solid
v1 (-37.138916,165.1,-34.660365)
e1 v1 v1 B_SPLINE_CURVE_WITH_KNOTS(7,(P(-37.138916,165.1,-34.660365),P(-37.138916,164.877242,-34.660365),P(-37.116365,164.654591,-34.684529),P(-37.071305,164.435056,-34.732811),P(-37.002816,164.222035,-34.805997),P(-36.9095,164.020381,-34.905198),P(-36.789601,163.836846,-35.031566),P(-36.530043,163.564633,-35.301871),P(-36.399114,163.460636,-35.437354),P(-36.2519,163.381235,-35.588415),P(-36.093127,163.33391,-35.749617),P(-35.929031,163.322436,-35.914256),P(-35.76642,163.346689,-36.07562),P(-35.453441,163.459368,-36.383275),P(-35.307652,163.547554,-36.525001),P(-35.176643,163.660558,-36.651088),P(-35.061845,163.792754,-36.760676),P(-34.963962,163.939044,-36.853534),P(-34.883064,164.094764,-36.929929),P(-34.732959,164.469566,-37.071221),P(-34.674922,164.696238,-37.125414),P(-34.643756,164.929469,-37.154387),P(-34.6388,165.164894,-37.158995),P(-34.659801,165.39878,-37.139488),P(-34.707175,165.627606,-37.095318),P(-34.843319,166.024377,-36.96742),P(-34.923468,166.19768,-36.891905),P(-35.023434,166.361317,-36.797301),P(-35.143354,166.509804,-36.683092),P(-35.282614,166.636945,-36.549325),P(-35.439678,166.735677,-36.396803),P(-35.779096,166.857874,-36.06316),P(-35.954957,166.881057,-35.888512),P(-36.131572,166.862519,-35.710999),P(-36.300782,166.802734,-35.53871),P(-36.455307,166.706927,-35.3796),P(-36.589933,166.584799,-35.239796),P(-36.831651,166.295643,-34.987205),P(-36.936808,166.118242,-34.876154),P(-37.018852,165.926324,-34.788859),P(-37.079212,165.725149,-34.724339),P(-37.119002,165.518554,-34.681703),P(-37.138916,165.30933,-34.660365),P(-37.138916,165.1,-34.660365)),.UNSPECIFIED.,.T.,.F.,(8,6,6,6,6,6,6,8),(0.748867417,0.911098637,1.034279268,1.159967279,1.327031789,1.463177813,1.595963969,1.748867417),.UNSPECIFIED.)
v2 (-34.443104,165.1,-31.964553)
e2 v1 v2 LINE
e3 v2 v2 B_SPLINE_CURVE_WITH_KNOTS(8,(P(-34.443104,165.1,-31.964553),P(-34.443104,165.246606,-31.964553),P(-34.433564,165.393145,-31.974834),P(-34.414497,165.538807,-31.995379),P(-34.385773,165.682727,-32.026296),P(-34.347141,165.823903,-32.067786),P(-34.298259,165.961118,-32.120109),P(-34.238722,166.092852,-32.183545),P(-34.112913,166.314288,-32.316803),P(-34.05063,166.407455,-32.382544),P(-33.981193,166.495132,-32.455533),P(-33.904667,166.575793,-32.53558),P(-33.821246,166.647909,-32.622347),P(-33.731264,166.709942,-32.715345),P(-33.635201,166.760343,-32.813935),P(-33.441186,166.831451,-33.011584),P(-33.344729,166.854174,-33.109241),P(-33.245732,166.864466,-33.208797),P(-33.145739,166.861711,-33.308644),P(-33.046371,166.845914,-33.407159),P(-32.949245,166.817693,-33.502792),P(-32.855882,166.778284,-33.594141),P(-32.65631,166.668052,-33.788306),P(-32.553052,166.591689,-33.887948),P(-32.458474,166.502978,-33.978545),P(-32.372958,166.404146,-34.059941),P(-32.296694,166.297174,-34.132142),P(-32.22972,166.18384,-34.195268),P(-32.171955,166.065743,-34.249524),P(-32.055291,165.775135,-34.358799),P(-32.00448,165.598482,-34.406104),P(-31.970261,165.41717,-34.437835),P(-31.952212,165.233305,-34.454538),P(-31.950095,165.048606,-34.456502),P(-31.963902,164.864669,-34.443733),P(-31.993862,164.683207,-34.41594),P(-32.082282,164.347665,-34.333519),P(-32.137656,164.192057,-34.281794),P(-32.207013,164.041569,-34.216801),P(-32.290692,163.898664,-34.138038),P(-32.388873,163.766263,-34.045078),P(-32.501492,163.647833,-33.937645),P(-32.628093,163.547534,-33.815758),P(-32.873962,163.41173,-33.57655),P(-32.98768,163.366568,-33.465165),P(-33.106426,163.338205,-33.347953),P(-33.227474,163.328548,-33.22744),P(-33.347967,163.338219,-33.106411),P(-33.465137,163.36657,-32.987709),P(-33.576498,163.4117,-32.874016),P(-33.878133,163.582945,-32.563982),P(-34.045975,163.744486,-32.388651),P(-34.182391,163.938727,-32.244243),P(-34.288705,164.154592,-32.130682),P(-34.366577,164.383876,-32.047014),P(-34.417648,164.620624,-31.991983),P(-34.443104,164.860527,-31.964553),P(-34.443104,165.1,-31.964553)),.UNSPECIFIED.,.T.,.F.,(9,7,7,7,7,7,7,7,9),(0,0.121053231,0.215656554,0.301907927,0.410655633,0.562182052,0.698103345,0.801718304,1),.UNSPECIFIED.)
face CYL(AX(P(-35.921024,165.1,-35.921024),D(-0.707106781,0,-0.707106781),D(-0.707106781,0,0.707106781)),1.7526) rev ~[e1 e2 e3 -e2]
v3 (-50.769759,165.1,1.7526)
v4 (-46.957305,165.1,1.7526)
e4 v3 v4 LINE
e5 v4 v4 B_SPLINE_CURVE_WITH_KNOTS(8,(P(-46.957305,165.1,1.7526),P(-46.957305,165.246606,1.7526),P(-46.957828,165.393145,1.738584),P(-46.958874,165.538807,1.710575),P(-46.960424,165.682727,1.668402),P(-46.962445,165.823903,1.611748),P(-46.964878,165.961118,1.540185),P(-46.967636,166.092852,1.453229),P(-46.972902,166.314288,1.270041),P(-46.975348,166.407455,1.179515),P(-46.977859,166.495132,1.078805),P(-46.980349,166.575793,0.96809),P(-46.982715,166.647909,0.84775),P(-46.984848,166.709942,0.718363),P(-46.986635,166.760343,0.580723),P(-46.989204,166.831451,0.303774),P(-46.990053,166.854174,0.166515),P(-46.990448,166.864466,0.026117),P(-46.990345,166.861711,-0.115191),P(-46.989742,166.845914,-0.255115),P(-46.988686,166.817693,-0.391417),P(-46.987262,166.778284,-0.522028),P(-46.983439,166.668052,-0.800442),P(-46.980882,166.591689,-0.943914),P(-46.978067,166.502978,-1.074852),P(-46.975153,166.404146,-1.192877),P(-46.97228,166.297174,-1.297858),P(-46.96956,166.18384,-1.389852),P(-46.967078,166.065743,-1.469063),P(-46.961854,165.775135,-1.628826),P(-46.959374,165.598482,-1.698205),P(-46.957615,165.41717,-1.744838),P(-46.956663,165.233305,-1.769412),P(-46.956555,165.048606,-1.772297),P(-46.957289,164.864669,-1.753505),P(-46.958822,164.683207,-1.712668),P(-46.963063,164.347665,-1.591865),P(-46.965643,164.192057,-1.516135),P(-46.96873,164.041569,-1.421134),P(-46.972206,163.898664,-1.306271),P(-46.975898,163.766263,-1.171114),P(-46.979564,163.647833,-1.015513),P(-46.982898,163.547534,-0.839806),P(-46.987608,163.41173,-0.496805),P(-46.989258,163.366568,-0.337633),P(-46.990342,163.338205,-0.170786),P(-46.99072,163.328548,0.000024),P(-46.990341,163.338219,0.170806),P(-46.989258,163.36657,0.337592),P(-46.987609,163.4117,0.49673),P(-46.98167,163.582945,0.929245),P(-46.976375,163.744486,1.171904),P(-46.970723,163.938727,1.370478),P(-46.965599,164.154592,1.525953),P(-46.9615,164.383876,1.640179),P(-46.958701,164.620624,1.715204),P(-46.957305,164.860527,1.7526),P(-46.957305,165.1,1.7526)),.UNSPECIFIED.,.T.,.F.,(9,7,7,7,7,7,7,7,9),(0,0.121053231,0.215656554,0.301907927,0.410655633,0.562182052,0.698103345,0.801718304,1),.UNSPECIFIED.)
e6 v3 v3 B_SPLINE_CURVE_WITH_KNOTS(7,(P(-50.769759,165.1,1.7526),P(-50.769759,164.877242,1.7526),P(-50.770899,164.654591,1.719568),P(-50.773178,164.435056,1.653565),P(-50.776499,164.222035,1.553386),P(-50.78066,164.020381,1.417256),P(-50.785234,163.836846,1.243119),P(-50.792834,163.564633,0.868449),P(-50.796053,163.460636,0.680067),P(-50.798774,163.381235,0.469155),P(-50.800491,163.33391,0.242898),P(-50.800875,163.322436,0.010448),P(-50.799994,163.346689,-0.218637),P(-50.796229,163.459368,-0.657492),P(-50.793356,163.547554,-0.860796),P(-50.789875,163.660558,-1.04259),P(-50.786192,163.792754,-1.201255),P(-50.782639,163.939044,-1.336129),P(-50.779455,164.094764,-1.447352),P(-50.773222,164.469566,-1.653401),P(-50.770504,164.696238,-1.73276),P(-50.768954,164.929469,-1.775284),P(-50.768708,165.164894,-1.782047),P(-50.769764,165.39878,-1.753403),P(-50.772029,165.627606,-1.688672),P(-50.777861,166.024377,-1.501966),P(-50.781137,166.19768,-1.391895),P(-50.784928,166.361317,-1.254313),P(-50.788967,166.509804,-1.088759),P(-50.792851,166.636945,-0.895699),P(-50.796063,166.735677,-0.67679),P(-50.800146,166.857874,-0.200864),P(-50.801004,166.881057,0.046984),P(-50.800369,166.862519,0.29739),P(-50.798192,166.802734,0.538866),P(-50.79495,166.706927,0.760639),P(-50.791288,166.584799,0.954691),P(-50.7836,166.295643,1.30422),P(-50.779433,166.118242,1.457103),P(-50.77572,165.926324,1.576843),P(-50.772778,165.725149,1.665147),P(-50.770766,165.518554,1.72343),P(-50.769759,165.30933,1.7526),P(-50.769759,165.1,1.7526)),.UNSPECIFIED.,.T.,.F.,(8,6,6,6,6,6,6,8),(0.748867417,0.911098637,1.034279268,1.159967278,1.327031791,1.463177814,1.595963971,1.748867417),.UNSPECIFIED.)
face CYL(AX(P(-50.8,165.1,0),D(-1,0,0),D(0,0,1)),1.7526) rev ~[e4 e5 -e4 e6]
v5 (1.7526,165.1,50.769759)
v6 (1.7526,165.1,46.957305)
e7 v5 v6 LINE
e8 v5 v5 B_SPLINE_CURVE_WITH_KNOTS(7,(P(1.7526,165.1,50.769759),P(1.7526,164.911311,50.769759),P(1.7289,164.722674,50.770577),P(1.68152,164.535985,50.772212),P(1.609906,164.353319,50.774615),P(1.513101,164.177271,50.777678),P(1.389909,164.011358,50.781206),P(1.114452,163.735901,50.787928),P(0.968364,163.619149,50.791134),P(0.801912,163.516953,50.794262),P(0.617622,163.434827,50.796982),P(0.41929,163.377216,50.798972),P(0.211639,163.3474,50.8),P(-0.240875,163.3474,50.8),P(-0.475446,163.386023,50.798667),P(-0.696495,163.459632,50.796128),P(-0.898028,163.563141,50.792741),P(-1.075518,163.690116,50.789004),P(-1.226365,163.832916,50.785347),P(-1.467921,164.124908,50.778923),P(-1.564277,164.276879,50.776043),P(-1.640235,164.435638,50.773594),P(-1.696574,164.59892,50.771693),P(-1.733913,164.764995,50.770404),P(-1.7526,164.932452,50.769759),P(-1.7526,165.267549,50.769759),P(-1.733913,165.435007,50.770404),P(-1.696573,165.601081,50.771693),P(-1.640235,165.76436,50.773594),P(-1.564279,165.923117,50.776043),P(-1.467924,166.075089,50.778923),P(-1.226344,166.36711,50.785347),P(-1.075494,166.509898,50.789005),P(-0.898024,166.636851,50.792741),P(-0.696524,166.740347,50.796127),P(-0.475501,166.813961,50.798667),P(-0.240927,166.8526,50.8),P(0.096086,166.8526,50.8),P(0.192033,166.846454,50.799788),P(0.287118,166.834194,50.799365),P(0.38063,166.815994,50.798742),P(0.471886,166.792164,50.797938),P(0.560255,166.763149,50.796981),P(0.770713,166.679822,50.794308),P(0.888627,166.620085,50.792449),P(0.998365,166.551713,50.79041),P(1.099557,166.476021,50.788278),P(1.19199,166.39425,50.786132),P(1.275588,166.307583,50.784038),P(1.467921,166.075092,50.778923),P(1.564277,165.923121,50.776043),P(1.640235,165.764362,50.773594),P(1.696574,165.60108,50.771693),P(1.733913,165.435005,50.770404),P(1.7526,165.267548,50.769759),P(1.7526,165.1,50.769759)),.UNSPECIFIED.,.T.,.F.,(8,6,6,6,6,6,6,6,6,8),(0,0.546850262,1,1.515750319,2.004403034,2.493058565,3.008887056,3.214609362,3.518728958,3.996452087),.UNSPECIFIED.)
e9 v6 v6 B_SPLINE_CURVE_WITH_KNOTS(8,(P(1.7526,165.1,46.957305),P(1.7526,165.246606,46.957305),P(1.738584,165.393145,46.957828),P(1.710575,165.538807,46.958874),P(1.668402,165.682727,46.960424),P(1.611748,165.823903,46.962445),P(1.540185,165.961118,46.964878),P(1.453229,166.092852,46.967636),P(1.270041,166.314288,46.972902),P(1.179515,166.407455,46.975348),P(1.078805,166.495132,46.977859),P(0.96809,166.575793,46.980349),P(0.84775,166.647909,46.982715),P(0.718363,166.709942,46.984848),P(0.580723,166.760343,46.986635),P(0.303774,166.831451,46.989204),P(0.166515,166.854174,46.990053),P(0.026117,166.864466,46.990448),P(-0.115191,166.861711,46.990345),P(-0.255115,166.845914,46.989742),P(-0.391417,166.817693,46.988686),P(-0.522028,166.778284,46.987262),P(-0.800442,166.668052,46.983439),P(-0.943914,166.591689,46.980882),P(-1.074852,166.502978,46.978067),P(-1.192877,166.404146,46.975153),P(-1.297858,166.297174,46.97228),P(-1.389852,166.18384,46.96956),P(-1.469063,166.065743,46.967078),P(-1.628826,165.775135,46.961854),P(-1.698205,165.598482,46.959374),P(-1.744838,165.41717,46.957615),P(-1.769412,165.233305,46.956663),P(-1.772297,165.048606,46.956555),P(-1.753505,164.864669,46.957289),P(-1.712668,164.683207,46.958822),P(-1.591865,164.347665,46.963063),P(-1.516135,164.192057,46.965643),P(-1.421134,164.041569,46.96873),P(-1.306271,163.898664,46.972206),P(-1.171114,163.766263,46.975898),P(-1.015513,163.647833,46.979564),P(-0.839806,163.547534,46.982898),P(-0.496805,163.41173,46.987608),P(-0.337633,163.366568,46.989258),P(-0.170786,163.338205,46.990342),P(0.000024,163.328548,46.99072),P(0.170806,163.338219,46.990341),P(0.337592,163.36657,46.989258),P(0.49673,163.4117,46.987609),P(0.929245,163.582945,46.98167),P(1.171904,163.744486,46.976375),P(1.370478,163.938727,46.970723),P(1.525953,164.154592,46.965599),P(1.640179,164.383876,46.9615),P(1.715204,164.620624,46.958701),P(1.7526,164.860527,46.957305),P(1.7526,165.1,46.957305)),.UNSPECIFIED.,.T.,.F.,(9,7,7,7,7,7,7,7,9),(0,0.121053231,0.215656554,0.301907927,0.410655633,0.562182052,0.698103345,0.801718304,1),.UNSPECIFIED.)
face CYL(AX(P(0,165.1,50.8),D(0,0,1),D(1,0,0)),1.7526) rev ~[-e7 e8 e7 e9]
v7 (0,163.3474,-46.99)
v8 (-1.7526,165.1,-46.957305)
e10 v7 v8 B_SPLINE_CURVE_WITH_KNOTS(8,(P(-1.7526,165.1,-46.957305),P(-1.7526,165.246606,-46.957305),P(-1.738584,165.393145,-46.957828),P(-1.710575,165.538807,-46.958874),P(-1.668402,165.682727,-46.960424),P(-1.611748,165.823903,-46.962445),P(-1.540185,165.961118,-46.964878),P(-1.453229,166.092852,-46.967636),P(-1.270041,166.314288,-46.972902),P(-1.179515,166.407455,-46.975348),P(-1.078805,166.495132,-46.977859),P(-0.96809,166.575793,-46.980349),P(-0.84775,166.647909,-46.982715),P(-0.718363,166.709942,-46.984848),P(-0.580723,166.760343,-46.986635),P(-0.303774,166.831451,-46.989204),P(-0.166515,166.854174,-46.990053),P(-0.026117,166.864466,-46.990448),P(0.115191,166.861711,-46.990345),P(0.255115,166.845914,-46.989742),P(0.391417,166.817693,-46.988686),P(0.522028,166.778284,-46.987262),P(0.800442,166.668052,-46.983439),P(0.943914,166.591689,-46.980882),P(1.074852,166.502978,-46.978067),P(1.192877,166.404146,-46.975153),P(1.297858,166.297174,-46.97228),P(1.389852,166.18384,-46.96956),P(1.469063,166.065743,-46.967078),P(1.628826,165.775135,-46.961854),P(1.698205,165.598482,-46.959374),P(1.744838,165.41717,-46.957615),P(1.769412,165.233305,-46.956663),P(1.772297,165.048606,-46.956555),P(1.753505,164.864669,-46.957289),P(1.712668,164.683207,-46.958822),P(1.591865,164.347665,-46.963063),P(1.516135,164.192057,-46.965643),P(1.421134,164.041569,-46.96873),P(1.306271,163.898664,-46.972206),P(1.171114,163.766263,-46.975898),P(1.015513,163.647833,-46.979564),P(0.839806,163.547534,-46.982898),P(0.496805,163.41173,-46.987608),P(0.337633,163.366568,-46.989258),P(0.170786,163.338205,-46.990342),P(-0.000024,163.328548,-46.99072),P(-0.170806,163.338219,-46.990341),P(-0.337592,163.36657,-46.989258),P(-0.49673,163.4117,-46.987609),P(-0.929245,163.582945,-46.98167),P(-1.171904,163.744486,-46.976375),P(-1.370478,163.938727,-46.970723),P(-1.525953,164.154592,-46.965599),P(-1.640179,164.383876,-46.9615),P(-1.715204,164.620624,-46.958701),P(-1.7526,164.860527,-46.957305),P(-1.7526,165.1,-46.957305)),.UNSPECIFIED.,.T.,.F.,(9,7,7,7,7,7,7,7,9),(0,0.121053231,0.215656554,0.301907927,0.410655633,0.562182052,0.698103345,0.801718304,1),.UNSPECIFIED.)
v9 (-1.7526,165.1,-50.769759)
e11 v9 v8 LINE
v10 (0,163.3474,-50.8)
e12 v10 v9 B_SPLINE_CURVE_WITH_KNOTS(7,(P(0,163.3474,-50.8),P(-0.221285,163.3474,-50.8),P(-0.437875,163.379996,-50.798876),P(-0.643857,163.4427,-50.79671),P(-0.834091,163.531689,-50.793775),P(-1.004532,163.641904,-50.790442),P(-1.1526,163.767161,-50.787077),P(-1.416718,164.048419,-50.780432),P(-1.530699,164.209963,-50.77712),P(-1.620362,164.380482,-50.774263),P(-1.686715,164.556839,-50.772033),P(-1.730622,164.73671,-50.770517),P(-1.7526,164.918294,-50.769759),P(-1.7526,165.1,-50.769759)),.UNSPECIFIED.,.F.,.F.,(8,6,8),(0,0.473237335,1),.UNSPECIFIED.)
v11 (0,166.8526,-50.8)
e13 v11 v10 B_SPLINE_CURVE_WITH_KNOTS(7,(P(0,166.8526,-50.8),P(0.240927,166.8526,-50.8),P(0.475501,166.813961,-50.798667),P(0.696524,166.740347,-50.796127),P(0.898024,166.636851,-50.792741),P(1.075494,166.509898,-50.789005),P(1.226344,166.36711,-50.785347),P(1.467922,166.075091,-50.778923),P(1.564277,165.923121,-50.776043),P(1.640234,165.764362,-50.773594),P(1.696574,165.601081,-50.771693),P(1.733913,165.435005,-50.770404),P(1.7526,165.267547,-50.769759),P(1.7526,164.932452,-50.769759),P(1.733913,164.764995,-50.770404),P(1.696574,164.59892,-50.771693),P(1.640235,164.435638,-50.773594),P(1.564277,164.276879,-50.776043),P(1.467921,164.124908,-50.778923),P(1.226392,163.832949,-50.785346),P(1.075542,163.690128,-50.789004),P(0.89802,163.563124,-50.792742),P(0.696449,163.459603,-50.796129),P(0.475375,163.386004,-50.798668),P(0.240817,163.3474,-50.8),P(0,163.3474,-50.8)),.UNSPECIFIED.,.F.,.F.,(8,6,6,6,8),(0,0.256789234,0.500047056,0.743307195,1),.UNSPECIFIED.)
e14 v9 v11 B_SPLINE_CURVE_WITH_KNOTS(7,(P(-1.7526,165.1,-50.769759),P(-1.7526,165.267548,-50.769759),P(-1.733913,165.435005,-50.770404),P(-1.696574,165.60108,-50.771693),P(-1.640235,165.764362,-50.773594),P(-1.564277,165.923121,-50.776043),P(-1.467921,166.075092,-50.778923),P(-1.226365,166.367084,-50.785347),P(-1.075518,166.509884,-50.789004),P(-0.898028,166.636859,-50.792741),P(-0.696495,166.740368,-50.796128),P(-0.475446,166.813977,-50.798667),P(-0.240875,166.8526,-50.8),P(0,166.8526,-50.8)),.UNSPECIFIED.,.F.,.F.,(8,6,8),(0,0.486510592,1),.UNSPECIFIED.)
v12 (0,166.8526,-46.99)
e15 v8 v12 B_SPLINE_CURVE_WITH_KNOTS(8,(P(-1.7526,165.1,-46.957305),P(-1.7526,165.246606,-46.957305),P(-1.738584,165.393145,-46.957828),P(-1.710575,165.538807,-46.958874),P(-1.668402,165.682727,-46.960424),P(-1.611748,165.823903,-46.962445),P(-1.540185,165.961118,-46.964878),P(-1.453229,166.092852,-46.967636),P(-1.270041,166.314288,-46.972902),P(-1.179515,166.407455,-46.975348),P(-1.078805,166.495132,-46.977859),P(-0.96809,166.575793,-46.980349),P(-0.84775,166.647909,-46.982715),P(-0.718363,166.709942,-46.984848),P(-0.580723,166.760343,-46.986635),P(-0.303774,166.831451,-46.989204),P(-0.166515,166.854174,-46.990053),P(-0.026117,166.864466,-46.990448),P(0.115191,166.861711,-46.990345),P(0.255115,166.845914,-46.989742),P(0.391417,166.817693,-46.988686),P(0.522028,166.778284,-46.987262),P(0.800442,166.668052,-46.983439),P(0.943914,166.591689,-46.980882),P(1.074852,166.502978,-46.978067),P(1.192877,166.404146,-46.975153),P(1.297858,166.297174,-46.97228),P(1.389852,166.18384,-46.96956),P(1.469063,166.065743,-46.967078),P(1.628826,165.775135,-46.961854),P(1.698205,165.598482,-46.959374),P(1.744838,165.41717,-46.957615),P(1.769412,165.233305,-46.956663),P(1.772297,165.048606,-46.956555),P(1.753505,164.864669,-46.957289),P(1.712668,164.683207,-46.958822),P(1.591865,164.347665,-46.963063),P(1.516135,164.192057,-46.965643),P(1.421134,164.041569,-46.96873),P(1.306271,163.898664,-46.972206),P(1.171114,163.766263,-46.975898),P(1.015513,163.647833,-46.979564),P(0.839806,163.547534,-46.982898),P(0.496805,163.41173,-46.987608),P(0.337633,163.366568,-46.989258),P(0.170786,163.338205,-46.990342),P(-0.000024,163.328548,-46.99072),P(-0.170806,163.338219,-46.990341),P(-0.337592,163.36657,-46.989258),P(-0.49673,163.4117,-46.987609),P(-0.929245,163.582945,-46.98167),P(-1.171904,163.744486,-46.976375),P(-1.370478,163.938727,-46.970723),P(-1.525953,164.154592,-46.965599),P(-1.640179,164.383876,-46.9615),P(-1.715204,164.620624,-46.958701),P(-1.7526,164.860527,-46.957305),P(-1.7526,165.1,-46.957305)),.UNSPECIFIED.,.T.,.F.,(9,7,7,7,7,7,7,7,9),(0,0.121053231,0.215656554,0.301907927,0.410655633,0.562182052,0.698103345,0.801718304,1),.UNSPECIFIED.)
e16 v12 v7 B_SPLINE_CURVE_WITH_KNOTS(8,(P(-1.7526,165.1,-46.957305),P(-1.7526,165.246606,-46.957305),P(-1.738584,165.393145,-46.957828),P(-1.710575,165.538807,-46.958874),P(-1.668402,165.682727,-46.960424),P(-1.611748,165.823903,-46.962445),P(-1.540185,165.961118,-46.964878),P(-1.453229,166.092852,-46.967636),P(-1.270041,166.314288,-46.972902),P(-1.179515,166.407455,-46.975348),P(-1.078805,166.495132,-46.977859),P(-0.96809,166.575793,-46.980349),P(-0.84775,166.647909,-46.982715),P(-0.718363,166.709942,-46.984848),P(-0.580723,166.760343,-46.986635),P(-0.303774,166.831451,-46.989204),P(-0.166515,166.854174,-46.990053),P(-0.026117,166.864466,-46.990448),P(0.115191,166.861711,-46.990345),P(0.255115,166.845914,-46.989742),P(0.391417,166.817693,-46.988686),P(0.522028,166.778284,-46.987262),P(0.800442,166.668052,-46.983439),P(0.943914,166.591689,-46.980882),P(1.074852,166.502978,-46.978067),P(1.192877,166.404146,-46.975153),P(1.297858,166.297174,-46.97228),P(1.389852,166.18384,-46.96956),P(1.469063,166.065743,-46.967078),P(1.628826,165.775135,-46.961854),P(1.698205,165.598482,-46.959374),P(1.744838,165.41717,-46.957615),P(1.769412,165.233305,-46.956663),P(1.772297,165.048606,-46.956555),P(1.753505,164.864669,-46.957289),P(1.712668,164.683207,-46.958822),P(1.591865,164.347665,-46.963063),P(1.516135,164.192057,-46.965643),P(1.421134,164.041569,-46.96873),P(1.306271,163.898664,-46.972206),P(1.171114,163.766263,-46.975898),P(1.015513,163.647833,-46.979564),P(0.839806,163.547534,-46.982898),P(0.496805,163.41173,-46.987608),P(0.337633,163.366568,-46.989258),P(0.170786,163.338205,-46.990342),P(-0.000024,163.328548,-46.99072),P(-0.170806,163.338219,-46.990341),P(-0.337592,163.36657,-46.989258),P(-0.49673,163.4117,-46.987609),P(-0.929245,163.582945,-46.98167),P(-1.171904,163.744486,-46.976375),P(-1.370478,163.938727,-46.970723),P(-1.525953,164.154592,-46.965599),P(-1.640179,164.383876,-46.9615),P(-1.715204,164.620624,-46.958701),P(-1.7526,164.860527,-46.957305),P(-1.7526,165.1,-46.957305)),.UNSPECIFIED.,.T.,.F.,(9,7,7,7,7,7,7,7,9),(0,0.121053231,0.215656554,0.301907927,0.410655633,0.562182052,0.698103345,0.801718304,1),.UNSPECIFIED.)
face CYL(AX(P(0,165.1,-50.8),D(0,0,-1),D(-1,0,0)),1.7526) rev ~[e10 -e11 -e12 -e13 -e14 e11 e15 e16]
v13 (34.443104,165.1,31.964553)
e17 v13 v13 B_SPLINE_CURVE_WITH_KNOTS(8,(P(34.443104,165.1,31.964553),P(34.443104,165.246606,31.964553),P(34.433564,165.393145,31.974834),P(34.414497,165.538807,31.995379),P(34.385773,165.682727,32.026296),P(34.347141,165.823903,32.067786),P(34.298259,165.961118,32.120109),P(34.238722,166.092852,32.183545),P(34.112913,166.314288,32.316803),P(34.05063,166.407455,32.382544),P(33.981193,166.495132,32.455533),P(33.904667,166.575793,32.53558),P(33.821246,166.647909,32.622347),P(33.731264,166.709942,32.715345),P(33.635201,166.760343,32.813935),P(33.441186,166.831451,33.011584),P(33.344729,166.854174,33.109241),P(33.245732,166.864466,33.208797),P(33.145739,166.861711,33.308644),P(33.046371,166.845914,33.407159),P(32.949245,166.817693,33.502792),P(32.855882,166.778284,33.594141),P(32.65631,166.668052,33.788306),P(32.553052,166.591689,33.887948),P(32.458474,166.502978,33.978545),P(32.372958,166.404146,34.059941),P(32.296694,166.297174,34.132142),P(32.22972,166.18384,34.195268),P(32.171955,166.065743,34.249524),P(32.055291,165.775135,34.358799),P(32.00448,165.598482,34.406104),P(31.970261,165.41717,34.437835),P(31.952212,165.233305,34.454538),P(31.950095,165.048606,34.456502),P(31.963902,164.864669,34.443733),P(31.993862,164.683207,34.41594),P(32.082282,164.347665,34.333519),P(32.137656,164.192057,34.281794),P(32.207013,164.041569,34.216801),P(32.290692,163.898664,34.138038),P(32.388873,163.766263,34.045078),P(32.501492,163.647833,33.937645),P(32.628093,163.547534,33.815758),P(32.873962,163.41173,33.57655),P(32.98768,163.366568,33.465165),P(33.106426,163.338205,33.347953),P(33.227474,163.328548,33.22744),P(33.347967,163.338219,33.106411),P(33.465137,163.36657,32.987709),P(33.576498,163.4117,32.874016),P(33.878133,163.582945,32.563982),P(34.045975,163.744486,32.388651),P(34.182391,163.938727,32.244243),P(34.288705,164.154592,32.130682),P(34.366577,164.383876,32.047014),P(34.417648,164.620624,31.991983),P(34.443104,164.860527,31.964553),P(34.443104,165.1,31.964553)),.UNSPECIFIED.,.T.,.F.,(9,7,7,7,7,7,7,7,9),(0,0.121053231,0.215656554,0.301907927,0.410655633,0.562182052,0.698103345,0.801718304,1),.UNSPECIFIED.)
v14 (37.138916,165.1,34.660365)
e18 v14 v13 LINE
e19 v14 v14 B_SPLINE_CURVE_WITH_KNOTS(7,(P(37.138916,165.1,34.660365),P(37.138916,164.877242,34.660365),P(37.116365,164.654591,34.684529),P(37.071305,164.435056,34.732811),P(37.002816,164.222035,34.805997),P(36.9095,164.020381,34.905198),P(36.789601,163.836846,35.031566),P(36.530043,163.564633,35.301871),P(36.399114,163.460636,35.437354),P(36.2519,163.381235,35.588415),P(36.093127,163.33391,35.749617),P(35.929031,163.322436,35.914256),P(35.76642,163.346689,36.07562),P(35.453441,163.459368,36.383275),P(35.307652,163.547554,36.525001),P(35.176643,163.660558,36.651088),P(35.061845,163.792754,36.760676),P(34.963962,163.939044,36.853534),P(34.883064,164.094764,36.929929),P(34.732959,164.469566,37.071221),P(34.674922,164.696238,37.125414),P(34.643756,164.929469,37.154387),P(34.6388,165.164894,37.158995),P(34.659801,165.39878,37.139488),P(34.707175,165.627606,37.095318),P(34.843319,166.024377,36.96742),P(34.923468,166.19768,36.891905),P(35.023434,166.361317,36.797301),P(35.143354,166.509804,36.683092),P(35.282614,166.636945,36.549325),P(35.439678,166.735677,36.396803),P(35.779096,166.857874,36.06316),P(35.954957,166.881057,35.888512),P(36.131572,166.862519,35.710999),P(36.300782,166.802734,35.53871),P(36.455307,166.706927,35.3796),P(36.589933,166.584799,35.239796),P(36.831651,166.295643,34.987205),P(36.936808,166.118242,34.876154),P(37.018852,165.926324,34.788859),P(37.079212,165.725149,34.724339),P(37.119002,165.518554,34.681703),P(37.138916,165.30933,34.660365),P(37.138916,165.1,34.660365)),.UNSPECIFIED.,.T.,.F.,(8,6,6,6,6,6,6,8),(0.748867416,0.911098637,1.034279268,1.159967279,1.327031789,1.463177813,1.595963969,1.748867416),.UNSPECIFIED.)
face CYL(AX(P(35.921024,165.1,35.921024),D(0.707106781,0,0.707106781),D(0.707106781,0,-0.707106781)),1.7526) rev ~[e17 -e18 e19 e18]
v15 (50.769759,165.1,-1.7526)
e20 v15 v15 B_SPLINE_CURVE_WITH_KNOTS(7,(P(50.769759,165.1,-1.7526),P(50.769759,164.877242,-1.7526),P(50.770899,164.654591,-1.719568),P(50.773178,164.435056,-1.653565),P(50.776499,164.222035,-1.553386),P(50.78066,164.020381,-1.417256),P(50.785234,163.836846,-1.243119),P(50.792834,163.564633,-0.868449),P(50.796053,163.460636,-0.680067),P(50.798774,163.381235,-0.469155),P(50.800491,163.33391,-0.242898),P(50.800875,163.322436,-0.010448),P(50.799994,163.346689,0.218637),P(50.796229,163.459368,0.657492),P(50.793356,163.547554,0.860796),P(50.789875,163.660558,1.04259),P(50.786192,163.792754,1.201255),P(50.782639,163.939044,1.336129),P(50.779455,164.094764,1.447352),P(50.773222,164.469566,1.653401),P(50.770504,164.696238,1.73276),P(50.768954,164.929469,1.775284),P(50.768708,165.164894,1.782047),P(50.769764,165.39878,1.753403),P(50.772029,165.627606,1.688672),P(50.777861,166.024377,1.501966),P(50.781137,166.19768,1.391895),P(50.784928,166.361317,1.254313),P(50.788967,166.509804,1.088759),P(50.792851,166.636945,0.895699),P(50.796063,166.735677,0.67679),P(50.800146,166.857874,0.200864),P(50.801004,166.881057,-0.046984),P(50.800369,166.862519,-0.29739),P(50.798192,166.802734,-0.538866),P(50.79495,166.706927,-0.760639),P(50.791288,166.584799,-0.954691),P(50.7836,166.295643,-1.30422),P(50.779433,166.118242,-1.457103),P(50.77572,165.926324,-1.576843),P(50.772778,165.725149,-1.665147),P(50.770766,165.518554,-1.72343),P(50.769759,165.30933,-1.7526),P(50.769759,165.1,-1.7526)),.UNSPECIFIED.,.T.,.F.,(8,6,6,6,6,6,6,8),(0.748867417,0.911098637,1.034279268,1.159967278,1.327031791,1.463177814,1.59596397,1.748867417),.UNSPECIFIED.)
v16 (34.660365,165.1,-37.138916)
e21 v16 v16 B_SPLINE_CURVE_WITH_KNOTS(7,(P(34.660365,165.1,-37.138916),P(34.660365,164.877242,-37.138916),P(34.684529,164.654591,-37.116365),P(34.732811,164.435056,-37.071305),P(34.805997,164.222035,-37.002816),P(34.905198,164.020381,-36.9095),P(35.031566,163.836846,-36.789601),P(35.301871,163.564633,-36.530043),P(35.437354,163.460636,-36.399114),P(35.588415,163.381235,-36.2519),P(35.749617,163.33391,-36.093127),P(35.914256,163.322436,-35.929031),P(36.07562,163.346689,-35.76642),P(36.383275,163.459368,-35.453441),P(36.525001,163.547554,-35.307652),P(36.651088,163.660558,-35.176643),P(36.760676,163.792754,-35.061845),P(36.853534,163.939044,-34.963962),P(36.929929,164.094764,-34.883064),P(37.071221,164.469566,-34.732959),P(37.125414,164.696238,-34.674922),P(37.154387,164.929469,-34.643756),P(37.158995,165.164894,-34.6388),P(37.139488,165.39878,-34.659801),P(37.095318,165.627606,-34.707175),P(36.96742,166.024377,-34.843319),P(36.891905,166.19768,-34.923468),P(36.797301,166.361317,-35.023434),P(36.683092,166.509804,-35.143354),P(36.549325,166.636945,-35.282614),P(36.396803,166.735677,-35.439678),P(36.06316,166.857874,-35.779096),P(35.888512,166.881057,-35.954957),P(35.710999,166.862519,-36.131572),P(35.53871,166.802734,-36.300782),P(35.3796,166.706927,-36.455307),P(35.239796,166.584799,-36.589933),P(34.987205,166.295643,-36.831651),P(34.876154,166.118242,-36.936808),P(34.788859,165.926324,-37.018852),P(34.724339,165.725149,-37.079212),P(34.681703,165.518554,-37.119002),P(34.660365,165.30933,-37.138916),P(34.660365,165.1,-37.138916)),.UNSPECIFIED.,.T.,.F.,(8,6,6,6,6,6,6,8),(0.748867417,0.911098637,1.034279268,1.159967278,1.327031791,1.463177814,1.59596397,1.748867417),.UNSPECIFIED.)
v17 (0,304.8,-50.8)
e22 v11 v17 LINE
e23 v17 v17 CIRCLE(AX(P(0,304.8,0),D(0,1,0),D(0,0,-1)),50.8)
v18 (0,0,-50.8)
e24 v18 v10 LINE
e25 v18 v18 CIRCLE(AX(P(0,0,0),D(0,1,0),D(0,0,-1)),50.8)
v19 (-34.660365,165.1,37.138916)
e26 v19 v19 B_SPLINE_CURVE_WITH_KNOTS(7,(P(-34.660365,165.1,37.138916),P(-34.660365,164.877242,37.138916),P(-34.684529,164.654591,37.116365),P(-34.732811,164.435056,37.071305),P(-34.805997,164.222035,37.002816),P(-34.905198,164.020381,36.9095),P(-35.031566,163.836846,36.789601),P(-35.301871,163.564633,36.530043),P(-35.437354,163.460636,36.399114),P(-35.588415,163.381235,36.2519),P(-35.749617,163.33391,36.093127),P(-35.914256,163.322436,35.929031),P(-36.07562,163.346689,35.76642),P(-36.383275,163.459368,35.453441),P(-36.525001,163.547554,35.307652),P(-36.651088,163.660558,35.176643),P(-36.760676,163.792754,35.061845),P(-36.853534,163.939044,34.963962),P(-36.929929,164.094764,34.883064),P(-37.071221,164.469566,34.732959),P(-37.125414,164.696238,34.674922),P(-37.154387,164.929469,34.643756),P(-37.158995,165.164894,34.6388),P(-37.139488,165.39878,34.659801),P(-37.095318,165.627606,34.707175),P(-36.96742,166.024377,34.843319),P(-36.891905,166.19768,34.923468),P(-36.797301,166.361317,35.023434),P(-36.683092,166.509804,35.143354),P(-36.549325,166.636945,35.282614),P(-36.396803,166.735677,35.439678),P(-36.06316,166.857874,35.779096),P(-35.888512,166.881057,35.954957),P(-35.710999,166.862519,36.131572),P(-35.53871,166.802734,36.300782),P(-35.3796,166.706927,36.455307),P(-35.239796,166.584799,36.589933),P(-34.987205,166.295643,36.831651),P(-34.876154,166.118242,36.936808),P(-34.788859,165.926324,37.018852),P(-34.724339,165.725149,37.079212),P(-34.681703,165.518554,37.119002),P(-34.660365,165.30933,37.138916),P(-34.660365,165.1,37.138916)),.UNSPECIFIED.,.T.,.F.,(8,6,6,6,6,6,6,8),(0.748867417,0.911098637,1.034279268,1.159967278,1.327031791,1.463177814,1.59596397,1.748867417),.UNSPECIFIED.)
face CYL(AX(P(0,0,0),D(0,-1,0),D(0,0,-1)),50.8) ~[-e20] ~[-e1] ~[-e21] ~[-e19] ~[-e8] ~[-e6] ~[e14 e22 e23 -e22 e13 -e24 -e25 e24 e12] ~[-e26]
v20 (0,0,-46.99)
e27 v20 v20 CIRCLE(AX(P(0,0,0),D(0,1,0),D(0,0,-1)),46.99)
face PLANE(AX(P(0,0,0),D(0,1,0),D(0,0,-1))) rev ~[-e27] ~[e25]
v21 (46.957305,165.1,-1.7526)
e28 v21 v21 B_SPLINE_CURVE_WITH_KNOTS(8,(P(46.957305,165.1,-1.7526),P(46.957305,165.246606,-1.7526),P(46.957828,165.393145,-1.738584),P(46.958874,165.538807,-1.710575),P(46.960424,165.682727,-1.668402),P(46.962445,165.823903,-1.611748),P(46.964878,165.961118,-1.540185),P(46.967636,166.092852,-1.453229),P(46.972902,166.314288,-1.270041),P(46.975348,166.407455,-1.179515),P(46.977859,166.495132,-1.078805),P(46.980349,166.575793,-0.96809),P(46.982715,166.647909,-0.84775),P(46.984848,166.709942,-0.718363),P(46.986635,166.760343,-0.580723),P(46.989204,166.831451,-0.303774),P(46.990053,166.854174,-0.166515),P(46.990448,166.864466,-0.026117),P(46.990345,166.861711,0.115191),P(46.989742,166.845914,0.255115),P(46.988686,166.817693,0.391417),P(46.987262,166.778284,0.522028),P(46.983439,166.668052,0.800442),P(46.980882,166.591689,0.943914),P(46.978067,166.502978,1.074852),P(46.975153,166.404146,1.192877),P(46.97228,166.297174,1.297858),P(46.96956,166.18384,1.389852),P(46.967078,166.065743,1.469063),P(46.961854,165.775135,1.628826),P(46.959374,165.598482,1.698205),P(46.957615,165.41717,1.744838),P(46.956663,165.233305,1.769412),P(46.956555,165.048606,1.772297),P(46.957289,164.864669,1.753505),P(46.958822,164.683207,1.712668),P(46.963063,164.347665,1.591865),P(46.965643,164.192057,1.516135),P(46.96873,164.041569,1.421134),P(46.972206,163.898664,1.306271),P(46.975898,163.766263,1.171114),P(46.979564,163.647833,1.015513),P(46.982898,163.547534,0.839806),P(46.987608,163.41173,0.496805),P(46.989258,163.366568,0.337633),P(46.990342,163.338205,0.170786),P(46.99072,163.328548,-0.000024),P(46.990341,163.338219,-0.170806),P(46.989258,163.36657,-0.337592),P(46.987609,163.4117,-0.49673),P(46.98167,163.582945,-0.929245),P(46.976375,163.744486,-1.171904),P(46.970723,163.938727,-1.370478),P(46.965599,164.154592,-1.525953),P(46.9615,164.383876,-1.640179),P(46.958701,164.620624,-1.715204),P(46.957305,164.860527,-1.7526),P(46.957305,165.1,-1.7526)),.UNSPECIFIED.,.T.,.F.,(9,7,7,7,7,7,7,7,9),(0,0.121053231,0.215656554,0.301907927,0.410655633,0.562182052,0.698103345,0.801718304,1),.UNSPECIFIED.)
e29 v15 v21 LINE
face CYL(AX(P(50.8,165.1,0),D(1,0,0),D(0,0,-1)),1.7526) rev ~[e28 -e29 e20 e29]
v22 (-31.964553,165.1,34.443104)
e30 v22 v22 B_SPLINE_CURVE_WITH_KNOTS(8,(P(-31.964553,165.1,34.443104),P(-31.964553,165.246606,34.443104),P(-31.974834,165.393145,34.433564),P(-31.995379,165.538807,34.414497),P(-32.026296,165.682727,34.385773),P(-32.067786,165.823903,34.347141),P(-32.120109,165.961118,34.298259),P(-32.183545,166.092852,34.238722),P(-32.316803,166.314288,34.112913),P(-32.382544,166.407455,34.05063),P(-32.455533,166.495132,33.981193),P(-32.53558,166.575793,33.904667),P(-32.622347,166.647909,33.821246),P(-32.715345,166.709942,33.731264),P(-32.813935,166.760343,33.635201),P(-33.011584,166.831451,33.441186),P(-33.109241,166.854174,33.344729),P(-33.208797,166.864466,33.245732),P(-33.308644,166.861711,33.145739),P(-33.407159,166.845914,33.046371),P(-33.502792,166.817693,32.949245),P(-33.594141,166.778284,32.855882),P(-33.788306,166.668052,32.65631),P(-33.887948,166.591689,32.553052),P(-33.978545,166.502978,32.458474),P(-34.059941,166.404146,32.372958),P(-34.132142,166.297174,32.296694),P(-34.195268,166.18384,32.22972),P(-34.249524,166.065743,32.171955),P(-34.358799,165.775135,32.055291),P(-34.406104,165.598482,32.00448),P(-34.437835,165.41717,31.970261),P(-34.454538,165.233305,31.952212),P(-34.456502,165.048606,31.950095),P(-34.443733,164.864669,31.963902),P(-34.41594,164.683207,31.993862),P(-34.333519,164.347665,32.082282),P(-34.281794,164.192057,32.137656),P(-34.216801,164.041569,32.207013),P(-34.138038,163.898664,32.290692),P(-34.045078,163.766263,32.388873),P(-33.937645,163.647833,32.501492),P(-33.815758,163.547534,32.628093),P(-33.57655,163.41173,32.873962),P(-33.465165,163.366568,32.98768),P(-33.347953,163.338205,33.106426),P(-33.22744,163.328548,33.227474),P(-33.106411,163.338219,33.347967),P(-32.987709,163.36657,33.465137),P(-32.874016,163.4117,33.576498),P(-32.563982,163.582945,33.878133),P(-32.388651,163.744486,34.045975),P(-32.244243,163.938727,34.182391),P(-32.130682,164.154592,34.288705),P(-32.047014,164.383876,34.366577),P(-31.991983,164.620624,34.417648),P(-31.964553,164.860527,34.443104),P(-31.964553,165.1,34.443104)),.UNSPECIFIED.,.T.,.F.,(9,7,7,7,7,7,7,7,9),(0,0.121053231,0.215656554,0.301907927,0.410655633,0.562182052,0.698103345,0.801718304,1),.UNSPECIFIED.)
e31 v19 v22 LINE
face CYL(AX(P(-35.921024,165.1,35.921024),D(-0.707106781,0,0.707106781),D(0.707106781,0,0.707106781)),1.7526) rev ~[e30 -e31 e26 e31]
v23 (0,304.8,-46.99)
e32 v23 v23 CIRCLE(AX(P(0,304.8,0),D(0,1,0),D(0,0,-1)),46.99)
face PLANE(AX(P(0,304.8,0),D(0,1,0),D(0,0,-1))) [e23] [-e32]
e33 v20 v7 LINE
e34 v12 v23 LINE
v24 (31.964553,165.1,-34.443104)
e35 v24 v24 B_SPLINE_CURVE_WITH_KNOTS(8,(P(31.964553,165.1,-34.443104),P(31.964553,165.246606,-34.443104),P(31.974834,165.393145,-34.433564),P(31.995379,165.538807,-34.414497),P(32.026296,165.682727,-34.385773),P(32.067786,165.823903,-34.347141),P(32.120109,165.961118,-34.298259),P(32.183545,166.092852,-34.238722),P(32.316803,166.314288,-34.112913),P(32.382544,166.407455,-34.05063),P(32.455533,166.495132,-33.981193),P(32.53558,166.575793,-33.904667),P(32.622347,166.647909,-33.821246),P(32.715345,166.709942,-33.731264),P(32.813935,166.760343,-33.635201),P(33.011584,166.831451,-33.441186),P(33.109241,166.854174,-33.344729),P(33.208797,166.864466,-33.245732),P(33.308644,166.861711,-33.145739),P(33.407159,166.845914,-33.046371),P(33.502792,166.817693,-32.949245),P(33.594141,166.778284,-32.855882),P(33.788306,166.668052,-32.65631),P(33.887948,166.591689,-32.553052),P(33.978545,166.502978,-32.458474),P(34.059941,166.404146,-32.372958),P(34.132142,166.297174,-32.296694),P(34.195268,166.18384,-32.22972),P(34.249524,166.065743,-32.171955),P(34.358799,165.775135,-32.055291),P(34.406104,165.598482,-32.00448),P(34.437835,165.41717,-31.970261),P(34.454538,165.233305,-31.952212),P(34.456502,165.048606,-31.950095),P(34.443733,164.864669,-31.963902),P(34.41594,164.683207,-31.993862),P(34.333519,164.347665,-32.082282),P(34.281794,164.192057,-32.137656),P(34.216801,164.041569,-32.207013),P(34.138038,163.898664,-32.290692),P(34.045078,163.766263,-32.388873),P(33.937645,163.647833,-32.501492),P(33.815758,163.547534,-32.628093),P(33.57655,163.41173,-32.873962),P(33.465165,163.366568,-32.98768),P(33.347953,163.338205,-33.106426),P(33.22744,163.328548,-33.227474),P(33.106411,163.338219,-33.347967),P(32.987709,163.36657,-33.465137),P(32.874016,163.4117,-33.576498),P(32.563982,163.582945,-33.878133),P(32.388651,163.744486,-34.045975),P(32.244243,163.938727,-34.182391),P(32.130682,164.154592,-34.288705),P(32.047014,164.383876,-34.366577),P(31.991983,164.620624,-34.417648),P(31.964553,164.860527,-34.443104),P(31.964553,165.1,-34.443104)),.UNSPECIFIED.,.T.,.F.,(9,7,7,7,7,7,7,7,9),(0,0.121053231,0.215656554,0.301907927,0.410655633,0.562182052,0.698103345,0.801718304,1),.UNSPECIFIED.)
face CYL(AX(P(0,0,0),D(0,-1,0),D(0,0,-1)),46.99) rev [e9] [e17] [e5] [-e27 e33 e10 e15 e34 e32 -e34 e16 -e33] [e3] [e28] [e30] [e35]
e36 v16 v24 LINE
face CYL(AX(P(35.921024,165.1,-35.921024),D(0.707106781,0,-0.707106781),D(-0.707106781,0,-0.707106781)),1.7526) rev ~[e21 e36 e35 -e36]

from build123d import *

# Parameters (mm, degrees)
SKETCH2_R                 = 50.8
SKETCH2_R_2               = 46.99
COUPLER_EXTRUSION_DEPTH   = 304.8
BULKHEAD_HOLES_REACH      = 327.279
BULKHEAD_HOLES_END_RADIUS = 46.99
SKETCH3_R                 = 1.7526
CIRPATTERN1_COUNT         = 8


with BuildPart() as part:
    # Sketch2 → Coupler Extrusion (new body)
    with BuildSketch(Plane(origin=(0, 0, 0), x_dir=(1, 0, 0), z_dir=(0, 1, 0))):
        with Locations(Location((0, 0, 0), (0, 0, 90))):
            Circle(SKETCH2_R)
        with Locations(Location((0, 0, 0), (0, 0, 90))):
            Circle(SKETCH2_R_2, mode=Mode.SUBTRACT)
    extrude(amount=COUPLER_EXTRUSION_DEPTH)

    # Bulkhead Holes: up to this cylinder (the profile starts outside it)
    bulkhead_holes_end = Plane(origin=(0, 165.1, 0), z_dir=(0, -1, 0)) * Cylinder(BULKHEAD_HOLES_END_RADIUS, 749.538, mode=Mode.PRIVATE)
    # Sketch3 → Bulkhead Holes (cut, up to the surface)
    with BuildSketch(Plane.XY.offset(50.8), mode=Mode.PRIVATE) as bulkhead_holes_sk1:
        with Locations((0, 165.1)):
            Circle(SKETCH3_R)
    bulkhead_holes_tool1 = extrude(bulkhead_holes_sk1.sketch, amount=-BULKHEAD_HOLES_REACH, mode=Mode.PRIVATE) - bulkhead_holes_end
    bulkhead_holes = bulkhead_holes_tool1.solids().sort_by_distance((0, 165.1, 50.8))[0]
    add(bulkhead_holes, mode=Mode.SUBTRACT)

    # CirPattern1: Bulkhead Holes ×8 about axis
    cirpattern1_axis = Axis((0, 304.8, 0), (0, -1, 0))
    for i in range(1, CIRPATTERN1_COUNT):
        add(bulkhead_holes.rotate(cirpattern1_axis, i * 360 / CIRPATTERN1_COUNT), mode=Mode.SUBTRACT)


solid = part.part
